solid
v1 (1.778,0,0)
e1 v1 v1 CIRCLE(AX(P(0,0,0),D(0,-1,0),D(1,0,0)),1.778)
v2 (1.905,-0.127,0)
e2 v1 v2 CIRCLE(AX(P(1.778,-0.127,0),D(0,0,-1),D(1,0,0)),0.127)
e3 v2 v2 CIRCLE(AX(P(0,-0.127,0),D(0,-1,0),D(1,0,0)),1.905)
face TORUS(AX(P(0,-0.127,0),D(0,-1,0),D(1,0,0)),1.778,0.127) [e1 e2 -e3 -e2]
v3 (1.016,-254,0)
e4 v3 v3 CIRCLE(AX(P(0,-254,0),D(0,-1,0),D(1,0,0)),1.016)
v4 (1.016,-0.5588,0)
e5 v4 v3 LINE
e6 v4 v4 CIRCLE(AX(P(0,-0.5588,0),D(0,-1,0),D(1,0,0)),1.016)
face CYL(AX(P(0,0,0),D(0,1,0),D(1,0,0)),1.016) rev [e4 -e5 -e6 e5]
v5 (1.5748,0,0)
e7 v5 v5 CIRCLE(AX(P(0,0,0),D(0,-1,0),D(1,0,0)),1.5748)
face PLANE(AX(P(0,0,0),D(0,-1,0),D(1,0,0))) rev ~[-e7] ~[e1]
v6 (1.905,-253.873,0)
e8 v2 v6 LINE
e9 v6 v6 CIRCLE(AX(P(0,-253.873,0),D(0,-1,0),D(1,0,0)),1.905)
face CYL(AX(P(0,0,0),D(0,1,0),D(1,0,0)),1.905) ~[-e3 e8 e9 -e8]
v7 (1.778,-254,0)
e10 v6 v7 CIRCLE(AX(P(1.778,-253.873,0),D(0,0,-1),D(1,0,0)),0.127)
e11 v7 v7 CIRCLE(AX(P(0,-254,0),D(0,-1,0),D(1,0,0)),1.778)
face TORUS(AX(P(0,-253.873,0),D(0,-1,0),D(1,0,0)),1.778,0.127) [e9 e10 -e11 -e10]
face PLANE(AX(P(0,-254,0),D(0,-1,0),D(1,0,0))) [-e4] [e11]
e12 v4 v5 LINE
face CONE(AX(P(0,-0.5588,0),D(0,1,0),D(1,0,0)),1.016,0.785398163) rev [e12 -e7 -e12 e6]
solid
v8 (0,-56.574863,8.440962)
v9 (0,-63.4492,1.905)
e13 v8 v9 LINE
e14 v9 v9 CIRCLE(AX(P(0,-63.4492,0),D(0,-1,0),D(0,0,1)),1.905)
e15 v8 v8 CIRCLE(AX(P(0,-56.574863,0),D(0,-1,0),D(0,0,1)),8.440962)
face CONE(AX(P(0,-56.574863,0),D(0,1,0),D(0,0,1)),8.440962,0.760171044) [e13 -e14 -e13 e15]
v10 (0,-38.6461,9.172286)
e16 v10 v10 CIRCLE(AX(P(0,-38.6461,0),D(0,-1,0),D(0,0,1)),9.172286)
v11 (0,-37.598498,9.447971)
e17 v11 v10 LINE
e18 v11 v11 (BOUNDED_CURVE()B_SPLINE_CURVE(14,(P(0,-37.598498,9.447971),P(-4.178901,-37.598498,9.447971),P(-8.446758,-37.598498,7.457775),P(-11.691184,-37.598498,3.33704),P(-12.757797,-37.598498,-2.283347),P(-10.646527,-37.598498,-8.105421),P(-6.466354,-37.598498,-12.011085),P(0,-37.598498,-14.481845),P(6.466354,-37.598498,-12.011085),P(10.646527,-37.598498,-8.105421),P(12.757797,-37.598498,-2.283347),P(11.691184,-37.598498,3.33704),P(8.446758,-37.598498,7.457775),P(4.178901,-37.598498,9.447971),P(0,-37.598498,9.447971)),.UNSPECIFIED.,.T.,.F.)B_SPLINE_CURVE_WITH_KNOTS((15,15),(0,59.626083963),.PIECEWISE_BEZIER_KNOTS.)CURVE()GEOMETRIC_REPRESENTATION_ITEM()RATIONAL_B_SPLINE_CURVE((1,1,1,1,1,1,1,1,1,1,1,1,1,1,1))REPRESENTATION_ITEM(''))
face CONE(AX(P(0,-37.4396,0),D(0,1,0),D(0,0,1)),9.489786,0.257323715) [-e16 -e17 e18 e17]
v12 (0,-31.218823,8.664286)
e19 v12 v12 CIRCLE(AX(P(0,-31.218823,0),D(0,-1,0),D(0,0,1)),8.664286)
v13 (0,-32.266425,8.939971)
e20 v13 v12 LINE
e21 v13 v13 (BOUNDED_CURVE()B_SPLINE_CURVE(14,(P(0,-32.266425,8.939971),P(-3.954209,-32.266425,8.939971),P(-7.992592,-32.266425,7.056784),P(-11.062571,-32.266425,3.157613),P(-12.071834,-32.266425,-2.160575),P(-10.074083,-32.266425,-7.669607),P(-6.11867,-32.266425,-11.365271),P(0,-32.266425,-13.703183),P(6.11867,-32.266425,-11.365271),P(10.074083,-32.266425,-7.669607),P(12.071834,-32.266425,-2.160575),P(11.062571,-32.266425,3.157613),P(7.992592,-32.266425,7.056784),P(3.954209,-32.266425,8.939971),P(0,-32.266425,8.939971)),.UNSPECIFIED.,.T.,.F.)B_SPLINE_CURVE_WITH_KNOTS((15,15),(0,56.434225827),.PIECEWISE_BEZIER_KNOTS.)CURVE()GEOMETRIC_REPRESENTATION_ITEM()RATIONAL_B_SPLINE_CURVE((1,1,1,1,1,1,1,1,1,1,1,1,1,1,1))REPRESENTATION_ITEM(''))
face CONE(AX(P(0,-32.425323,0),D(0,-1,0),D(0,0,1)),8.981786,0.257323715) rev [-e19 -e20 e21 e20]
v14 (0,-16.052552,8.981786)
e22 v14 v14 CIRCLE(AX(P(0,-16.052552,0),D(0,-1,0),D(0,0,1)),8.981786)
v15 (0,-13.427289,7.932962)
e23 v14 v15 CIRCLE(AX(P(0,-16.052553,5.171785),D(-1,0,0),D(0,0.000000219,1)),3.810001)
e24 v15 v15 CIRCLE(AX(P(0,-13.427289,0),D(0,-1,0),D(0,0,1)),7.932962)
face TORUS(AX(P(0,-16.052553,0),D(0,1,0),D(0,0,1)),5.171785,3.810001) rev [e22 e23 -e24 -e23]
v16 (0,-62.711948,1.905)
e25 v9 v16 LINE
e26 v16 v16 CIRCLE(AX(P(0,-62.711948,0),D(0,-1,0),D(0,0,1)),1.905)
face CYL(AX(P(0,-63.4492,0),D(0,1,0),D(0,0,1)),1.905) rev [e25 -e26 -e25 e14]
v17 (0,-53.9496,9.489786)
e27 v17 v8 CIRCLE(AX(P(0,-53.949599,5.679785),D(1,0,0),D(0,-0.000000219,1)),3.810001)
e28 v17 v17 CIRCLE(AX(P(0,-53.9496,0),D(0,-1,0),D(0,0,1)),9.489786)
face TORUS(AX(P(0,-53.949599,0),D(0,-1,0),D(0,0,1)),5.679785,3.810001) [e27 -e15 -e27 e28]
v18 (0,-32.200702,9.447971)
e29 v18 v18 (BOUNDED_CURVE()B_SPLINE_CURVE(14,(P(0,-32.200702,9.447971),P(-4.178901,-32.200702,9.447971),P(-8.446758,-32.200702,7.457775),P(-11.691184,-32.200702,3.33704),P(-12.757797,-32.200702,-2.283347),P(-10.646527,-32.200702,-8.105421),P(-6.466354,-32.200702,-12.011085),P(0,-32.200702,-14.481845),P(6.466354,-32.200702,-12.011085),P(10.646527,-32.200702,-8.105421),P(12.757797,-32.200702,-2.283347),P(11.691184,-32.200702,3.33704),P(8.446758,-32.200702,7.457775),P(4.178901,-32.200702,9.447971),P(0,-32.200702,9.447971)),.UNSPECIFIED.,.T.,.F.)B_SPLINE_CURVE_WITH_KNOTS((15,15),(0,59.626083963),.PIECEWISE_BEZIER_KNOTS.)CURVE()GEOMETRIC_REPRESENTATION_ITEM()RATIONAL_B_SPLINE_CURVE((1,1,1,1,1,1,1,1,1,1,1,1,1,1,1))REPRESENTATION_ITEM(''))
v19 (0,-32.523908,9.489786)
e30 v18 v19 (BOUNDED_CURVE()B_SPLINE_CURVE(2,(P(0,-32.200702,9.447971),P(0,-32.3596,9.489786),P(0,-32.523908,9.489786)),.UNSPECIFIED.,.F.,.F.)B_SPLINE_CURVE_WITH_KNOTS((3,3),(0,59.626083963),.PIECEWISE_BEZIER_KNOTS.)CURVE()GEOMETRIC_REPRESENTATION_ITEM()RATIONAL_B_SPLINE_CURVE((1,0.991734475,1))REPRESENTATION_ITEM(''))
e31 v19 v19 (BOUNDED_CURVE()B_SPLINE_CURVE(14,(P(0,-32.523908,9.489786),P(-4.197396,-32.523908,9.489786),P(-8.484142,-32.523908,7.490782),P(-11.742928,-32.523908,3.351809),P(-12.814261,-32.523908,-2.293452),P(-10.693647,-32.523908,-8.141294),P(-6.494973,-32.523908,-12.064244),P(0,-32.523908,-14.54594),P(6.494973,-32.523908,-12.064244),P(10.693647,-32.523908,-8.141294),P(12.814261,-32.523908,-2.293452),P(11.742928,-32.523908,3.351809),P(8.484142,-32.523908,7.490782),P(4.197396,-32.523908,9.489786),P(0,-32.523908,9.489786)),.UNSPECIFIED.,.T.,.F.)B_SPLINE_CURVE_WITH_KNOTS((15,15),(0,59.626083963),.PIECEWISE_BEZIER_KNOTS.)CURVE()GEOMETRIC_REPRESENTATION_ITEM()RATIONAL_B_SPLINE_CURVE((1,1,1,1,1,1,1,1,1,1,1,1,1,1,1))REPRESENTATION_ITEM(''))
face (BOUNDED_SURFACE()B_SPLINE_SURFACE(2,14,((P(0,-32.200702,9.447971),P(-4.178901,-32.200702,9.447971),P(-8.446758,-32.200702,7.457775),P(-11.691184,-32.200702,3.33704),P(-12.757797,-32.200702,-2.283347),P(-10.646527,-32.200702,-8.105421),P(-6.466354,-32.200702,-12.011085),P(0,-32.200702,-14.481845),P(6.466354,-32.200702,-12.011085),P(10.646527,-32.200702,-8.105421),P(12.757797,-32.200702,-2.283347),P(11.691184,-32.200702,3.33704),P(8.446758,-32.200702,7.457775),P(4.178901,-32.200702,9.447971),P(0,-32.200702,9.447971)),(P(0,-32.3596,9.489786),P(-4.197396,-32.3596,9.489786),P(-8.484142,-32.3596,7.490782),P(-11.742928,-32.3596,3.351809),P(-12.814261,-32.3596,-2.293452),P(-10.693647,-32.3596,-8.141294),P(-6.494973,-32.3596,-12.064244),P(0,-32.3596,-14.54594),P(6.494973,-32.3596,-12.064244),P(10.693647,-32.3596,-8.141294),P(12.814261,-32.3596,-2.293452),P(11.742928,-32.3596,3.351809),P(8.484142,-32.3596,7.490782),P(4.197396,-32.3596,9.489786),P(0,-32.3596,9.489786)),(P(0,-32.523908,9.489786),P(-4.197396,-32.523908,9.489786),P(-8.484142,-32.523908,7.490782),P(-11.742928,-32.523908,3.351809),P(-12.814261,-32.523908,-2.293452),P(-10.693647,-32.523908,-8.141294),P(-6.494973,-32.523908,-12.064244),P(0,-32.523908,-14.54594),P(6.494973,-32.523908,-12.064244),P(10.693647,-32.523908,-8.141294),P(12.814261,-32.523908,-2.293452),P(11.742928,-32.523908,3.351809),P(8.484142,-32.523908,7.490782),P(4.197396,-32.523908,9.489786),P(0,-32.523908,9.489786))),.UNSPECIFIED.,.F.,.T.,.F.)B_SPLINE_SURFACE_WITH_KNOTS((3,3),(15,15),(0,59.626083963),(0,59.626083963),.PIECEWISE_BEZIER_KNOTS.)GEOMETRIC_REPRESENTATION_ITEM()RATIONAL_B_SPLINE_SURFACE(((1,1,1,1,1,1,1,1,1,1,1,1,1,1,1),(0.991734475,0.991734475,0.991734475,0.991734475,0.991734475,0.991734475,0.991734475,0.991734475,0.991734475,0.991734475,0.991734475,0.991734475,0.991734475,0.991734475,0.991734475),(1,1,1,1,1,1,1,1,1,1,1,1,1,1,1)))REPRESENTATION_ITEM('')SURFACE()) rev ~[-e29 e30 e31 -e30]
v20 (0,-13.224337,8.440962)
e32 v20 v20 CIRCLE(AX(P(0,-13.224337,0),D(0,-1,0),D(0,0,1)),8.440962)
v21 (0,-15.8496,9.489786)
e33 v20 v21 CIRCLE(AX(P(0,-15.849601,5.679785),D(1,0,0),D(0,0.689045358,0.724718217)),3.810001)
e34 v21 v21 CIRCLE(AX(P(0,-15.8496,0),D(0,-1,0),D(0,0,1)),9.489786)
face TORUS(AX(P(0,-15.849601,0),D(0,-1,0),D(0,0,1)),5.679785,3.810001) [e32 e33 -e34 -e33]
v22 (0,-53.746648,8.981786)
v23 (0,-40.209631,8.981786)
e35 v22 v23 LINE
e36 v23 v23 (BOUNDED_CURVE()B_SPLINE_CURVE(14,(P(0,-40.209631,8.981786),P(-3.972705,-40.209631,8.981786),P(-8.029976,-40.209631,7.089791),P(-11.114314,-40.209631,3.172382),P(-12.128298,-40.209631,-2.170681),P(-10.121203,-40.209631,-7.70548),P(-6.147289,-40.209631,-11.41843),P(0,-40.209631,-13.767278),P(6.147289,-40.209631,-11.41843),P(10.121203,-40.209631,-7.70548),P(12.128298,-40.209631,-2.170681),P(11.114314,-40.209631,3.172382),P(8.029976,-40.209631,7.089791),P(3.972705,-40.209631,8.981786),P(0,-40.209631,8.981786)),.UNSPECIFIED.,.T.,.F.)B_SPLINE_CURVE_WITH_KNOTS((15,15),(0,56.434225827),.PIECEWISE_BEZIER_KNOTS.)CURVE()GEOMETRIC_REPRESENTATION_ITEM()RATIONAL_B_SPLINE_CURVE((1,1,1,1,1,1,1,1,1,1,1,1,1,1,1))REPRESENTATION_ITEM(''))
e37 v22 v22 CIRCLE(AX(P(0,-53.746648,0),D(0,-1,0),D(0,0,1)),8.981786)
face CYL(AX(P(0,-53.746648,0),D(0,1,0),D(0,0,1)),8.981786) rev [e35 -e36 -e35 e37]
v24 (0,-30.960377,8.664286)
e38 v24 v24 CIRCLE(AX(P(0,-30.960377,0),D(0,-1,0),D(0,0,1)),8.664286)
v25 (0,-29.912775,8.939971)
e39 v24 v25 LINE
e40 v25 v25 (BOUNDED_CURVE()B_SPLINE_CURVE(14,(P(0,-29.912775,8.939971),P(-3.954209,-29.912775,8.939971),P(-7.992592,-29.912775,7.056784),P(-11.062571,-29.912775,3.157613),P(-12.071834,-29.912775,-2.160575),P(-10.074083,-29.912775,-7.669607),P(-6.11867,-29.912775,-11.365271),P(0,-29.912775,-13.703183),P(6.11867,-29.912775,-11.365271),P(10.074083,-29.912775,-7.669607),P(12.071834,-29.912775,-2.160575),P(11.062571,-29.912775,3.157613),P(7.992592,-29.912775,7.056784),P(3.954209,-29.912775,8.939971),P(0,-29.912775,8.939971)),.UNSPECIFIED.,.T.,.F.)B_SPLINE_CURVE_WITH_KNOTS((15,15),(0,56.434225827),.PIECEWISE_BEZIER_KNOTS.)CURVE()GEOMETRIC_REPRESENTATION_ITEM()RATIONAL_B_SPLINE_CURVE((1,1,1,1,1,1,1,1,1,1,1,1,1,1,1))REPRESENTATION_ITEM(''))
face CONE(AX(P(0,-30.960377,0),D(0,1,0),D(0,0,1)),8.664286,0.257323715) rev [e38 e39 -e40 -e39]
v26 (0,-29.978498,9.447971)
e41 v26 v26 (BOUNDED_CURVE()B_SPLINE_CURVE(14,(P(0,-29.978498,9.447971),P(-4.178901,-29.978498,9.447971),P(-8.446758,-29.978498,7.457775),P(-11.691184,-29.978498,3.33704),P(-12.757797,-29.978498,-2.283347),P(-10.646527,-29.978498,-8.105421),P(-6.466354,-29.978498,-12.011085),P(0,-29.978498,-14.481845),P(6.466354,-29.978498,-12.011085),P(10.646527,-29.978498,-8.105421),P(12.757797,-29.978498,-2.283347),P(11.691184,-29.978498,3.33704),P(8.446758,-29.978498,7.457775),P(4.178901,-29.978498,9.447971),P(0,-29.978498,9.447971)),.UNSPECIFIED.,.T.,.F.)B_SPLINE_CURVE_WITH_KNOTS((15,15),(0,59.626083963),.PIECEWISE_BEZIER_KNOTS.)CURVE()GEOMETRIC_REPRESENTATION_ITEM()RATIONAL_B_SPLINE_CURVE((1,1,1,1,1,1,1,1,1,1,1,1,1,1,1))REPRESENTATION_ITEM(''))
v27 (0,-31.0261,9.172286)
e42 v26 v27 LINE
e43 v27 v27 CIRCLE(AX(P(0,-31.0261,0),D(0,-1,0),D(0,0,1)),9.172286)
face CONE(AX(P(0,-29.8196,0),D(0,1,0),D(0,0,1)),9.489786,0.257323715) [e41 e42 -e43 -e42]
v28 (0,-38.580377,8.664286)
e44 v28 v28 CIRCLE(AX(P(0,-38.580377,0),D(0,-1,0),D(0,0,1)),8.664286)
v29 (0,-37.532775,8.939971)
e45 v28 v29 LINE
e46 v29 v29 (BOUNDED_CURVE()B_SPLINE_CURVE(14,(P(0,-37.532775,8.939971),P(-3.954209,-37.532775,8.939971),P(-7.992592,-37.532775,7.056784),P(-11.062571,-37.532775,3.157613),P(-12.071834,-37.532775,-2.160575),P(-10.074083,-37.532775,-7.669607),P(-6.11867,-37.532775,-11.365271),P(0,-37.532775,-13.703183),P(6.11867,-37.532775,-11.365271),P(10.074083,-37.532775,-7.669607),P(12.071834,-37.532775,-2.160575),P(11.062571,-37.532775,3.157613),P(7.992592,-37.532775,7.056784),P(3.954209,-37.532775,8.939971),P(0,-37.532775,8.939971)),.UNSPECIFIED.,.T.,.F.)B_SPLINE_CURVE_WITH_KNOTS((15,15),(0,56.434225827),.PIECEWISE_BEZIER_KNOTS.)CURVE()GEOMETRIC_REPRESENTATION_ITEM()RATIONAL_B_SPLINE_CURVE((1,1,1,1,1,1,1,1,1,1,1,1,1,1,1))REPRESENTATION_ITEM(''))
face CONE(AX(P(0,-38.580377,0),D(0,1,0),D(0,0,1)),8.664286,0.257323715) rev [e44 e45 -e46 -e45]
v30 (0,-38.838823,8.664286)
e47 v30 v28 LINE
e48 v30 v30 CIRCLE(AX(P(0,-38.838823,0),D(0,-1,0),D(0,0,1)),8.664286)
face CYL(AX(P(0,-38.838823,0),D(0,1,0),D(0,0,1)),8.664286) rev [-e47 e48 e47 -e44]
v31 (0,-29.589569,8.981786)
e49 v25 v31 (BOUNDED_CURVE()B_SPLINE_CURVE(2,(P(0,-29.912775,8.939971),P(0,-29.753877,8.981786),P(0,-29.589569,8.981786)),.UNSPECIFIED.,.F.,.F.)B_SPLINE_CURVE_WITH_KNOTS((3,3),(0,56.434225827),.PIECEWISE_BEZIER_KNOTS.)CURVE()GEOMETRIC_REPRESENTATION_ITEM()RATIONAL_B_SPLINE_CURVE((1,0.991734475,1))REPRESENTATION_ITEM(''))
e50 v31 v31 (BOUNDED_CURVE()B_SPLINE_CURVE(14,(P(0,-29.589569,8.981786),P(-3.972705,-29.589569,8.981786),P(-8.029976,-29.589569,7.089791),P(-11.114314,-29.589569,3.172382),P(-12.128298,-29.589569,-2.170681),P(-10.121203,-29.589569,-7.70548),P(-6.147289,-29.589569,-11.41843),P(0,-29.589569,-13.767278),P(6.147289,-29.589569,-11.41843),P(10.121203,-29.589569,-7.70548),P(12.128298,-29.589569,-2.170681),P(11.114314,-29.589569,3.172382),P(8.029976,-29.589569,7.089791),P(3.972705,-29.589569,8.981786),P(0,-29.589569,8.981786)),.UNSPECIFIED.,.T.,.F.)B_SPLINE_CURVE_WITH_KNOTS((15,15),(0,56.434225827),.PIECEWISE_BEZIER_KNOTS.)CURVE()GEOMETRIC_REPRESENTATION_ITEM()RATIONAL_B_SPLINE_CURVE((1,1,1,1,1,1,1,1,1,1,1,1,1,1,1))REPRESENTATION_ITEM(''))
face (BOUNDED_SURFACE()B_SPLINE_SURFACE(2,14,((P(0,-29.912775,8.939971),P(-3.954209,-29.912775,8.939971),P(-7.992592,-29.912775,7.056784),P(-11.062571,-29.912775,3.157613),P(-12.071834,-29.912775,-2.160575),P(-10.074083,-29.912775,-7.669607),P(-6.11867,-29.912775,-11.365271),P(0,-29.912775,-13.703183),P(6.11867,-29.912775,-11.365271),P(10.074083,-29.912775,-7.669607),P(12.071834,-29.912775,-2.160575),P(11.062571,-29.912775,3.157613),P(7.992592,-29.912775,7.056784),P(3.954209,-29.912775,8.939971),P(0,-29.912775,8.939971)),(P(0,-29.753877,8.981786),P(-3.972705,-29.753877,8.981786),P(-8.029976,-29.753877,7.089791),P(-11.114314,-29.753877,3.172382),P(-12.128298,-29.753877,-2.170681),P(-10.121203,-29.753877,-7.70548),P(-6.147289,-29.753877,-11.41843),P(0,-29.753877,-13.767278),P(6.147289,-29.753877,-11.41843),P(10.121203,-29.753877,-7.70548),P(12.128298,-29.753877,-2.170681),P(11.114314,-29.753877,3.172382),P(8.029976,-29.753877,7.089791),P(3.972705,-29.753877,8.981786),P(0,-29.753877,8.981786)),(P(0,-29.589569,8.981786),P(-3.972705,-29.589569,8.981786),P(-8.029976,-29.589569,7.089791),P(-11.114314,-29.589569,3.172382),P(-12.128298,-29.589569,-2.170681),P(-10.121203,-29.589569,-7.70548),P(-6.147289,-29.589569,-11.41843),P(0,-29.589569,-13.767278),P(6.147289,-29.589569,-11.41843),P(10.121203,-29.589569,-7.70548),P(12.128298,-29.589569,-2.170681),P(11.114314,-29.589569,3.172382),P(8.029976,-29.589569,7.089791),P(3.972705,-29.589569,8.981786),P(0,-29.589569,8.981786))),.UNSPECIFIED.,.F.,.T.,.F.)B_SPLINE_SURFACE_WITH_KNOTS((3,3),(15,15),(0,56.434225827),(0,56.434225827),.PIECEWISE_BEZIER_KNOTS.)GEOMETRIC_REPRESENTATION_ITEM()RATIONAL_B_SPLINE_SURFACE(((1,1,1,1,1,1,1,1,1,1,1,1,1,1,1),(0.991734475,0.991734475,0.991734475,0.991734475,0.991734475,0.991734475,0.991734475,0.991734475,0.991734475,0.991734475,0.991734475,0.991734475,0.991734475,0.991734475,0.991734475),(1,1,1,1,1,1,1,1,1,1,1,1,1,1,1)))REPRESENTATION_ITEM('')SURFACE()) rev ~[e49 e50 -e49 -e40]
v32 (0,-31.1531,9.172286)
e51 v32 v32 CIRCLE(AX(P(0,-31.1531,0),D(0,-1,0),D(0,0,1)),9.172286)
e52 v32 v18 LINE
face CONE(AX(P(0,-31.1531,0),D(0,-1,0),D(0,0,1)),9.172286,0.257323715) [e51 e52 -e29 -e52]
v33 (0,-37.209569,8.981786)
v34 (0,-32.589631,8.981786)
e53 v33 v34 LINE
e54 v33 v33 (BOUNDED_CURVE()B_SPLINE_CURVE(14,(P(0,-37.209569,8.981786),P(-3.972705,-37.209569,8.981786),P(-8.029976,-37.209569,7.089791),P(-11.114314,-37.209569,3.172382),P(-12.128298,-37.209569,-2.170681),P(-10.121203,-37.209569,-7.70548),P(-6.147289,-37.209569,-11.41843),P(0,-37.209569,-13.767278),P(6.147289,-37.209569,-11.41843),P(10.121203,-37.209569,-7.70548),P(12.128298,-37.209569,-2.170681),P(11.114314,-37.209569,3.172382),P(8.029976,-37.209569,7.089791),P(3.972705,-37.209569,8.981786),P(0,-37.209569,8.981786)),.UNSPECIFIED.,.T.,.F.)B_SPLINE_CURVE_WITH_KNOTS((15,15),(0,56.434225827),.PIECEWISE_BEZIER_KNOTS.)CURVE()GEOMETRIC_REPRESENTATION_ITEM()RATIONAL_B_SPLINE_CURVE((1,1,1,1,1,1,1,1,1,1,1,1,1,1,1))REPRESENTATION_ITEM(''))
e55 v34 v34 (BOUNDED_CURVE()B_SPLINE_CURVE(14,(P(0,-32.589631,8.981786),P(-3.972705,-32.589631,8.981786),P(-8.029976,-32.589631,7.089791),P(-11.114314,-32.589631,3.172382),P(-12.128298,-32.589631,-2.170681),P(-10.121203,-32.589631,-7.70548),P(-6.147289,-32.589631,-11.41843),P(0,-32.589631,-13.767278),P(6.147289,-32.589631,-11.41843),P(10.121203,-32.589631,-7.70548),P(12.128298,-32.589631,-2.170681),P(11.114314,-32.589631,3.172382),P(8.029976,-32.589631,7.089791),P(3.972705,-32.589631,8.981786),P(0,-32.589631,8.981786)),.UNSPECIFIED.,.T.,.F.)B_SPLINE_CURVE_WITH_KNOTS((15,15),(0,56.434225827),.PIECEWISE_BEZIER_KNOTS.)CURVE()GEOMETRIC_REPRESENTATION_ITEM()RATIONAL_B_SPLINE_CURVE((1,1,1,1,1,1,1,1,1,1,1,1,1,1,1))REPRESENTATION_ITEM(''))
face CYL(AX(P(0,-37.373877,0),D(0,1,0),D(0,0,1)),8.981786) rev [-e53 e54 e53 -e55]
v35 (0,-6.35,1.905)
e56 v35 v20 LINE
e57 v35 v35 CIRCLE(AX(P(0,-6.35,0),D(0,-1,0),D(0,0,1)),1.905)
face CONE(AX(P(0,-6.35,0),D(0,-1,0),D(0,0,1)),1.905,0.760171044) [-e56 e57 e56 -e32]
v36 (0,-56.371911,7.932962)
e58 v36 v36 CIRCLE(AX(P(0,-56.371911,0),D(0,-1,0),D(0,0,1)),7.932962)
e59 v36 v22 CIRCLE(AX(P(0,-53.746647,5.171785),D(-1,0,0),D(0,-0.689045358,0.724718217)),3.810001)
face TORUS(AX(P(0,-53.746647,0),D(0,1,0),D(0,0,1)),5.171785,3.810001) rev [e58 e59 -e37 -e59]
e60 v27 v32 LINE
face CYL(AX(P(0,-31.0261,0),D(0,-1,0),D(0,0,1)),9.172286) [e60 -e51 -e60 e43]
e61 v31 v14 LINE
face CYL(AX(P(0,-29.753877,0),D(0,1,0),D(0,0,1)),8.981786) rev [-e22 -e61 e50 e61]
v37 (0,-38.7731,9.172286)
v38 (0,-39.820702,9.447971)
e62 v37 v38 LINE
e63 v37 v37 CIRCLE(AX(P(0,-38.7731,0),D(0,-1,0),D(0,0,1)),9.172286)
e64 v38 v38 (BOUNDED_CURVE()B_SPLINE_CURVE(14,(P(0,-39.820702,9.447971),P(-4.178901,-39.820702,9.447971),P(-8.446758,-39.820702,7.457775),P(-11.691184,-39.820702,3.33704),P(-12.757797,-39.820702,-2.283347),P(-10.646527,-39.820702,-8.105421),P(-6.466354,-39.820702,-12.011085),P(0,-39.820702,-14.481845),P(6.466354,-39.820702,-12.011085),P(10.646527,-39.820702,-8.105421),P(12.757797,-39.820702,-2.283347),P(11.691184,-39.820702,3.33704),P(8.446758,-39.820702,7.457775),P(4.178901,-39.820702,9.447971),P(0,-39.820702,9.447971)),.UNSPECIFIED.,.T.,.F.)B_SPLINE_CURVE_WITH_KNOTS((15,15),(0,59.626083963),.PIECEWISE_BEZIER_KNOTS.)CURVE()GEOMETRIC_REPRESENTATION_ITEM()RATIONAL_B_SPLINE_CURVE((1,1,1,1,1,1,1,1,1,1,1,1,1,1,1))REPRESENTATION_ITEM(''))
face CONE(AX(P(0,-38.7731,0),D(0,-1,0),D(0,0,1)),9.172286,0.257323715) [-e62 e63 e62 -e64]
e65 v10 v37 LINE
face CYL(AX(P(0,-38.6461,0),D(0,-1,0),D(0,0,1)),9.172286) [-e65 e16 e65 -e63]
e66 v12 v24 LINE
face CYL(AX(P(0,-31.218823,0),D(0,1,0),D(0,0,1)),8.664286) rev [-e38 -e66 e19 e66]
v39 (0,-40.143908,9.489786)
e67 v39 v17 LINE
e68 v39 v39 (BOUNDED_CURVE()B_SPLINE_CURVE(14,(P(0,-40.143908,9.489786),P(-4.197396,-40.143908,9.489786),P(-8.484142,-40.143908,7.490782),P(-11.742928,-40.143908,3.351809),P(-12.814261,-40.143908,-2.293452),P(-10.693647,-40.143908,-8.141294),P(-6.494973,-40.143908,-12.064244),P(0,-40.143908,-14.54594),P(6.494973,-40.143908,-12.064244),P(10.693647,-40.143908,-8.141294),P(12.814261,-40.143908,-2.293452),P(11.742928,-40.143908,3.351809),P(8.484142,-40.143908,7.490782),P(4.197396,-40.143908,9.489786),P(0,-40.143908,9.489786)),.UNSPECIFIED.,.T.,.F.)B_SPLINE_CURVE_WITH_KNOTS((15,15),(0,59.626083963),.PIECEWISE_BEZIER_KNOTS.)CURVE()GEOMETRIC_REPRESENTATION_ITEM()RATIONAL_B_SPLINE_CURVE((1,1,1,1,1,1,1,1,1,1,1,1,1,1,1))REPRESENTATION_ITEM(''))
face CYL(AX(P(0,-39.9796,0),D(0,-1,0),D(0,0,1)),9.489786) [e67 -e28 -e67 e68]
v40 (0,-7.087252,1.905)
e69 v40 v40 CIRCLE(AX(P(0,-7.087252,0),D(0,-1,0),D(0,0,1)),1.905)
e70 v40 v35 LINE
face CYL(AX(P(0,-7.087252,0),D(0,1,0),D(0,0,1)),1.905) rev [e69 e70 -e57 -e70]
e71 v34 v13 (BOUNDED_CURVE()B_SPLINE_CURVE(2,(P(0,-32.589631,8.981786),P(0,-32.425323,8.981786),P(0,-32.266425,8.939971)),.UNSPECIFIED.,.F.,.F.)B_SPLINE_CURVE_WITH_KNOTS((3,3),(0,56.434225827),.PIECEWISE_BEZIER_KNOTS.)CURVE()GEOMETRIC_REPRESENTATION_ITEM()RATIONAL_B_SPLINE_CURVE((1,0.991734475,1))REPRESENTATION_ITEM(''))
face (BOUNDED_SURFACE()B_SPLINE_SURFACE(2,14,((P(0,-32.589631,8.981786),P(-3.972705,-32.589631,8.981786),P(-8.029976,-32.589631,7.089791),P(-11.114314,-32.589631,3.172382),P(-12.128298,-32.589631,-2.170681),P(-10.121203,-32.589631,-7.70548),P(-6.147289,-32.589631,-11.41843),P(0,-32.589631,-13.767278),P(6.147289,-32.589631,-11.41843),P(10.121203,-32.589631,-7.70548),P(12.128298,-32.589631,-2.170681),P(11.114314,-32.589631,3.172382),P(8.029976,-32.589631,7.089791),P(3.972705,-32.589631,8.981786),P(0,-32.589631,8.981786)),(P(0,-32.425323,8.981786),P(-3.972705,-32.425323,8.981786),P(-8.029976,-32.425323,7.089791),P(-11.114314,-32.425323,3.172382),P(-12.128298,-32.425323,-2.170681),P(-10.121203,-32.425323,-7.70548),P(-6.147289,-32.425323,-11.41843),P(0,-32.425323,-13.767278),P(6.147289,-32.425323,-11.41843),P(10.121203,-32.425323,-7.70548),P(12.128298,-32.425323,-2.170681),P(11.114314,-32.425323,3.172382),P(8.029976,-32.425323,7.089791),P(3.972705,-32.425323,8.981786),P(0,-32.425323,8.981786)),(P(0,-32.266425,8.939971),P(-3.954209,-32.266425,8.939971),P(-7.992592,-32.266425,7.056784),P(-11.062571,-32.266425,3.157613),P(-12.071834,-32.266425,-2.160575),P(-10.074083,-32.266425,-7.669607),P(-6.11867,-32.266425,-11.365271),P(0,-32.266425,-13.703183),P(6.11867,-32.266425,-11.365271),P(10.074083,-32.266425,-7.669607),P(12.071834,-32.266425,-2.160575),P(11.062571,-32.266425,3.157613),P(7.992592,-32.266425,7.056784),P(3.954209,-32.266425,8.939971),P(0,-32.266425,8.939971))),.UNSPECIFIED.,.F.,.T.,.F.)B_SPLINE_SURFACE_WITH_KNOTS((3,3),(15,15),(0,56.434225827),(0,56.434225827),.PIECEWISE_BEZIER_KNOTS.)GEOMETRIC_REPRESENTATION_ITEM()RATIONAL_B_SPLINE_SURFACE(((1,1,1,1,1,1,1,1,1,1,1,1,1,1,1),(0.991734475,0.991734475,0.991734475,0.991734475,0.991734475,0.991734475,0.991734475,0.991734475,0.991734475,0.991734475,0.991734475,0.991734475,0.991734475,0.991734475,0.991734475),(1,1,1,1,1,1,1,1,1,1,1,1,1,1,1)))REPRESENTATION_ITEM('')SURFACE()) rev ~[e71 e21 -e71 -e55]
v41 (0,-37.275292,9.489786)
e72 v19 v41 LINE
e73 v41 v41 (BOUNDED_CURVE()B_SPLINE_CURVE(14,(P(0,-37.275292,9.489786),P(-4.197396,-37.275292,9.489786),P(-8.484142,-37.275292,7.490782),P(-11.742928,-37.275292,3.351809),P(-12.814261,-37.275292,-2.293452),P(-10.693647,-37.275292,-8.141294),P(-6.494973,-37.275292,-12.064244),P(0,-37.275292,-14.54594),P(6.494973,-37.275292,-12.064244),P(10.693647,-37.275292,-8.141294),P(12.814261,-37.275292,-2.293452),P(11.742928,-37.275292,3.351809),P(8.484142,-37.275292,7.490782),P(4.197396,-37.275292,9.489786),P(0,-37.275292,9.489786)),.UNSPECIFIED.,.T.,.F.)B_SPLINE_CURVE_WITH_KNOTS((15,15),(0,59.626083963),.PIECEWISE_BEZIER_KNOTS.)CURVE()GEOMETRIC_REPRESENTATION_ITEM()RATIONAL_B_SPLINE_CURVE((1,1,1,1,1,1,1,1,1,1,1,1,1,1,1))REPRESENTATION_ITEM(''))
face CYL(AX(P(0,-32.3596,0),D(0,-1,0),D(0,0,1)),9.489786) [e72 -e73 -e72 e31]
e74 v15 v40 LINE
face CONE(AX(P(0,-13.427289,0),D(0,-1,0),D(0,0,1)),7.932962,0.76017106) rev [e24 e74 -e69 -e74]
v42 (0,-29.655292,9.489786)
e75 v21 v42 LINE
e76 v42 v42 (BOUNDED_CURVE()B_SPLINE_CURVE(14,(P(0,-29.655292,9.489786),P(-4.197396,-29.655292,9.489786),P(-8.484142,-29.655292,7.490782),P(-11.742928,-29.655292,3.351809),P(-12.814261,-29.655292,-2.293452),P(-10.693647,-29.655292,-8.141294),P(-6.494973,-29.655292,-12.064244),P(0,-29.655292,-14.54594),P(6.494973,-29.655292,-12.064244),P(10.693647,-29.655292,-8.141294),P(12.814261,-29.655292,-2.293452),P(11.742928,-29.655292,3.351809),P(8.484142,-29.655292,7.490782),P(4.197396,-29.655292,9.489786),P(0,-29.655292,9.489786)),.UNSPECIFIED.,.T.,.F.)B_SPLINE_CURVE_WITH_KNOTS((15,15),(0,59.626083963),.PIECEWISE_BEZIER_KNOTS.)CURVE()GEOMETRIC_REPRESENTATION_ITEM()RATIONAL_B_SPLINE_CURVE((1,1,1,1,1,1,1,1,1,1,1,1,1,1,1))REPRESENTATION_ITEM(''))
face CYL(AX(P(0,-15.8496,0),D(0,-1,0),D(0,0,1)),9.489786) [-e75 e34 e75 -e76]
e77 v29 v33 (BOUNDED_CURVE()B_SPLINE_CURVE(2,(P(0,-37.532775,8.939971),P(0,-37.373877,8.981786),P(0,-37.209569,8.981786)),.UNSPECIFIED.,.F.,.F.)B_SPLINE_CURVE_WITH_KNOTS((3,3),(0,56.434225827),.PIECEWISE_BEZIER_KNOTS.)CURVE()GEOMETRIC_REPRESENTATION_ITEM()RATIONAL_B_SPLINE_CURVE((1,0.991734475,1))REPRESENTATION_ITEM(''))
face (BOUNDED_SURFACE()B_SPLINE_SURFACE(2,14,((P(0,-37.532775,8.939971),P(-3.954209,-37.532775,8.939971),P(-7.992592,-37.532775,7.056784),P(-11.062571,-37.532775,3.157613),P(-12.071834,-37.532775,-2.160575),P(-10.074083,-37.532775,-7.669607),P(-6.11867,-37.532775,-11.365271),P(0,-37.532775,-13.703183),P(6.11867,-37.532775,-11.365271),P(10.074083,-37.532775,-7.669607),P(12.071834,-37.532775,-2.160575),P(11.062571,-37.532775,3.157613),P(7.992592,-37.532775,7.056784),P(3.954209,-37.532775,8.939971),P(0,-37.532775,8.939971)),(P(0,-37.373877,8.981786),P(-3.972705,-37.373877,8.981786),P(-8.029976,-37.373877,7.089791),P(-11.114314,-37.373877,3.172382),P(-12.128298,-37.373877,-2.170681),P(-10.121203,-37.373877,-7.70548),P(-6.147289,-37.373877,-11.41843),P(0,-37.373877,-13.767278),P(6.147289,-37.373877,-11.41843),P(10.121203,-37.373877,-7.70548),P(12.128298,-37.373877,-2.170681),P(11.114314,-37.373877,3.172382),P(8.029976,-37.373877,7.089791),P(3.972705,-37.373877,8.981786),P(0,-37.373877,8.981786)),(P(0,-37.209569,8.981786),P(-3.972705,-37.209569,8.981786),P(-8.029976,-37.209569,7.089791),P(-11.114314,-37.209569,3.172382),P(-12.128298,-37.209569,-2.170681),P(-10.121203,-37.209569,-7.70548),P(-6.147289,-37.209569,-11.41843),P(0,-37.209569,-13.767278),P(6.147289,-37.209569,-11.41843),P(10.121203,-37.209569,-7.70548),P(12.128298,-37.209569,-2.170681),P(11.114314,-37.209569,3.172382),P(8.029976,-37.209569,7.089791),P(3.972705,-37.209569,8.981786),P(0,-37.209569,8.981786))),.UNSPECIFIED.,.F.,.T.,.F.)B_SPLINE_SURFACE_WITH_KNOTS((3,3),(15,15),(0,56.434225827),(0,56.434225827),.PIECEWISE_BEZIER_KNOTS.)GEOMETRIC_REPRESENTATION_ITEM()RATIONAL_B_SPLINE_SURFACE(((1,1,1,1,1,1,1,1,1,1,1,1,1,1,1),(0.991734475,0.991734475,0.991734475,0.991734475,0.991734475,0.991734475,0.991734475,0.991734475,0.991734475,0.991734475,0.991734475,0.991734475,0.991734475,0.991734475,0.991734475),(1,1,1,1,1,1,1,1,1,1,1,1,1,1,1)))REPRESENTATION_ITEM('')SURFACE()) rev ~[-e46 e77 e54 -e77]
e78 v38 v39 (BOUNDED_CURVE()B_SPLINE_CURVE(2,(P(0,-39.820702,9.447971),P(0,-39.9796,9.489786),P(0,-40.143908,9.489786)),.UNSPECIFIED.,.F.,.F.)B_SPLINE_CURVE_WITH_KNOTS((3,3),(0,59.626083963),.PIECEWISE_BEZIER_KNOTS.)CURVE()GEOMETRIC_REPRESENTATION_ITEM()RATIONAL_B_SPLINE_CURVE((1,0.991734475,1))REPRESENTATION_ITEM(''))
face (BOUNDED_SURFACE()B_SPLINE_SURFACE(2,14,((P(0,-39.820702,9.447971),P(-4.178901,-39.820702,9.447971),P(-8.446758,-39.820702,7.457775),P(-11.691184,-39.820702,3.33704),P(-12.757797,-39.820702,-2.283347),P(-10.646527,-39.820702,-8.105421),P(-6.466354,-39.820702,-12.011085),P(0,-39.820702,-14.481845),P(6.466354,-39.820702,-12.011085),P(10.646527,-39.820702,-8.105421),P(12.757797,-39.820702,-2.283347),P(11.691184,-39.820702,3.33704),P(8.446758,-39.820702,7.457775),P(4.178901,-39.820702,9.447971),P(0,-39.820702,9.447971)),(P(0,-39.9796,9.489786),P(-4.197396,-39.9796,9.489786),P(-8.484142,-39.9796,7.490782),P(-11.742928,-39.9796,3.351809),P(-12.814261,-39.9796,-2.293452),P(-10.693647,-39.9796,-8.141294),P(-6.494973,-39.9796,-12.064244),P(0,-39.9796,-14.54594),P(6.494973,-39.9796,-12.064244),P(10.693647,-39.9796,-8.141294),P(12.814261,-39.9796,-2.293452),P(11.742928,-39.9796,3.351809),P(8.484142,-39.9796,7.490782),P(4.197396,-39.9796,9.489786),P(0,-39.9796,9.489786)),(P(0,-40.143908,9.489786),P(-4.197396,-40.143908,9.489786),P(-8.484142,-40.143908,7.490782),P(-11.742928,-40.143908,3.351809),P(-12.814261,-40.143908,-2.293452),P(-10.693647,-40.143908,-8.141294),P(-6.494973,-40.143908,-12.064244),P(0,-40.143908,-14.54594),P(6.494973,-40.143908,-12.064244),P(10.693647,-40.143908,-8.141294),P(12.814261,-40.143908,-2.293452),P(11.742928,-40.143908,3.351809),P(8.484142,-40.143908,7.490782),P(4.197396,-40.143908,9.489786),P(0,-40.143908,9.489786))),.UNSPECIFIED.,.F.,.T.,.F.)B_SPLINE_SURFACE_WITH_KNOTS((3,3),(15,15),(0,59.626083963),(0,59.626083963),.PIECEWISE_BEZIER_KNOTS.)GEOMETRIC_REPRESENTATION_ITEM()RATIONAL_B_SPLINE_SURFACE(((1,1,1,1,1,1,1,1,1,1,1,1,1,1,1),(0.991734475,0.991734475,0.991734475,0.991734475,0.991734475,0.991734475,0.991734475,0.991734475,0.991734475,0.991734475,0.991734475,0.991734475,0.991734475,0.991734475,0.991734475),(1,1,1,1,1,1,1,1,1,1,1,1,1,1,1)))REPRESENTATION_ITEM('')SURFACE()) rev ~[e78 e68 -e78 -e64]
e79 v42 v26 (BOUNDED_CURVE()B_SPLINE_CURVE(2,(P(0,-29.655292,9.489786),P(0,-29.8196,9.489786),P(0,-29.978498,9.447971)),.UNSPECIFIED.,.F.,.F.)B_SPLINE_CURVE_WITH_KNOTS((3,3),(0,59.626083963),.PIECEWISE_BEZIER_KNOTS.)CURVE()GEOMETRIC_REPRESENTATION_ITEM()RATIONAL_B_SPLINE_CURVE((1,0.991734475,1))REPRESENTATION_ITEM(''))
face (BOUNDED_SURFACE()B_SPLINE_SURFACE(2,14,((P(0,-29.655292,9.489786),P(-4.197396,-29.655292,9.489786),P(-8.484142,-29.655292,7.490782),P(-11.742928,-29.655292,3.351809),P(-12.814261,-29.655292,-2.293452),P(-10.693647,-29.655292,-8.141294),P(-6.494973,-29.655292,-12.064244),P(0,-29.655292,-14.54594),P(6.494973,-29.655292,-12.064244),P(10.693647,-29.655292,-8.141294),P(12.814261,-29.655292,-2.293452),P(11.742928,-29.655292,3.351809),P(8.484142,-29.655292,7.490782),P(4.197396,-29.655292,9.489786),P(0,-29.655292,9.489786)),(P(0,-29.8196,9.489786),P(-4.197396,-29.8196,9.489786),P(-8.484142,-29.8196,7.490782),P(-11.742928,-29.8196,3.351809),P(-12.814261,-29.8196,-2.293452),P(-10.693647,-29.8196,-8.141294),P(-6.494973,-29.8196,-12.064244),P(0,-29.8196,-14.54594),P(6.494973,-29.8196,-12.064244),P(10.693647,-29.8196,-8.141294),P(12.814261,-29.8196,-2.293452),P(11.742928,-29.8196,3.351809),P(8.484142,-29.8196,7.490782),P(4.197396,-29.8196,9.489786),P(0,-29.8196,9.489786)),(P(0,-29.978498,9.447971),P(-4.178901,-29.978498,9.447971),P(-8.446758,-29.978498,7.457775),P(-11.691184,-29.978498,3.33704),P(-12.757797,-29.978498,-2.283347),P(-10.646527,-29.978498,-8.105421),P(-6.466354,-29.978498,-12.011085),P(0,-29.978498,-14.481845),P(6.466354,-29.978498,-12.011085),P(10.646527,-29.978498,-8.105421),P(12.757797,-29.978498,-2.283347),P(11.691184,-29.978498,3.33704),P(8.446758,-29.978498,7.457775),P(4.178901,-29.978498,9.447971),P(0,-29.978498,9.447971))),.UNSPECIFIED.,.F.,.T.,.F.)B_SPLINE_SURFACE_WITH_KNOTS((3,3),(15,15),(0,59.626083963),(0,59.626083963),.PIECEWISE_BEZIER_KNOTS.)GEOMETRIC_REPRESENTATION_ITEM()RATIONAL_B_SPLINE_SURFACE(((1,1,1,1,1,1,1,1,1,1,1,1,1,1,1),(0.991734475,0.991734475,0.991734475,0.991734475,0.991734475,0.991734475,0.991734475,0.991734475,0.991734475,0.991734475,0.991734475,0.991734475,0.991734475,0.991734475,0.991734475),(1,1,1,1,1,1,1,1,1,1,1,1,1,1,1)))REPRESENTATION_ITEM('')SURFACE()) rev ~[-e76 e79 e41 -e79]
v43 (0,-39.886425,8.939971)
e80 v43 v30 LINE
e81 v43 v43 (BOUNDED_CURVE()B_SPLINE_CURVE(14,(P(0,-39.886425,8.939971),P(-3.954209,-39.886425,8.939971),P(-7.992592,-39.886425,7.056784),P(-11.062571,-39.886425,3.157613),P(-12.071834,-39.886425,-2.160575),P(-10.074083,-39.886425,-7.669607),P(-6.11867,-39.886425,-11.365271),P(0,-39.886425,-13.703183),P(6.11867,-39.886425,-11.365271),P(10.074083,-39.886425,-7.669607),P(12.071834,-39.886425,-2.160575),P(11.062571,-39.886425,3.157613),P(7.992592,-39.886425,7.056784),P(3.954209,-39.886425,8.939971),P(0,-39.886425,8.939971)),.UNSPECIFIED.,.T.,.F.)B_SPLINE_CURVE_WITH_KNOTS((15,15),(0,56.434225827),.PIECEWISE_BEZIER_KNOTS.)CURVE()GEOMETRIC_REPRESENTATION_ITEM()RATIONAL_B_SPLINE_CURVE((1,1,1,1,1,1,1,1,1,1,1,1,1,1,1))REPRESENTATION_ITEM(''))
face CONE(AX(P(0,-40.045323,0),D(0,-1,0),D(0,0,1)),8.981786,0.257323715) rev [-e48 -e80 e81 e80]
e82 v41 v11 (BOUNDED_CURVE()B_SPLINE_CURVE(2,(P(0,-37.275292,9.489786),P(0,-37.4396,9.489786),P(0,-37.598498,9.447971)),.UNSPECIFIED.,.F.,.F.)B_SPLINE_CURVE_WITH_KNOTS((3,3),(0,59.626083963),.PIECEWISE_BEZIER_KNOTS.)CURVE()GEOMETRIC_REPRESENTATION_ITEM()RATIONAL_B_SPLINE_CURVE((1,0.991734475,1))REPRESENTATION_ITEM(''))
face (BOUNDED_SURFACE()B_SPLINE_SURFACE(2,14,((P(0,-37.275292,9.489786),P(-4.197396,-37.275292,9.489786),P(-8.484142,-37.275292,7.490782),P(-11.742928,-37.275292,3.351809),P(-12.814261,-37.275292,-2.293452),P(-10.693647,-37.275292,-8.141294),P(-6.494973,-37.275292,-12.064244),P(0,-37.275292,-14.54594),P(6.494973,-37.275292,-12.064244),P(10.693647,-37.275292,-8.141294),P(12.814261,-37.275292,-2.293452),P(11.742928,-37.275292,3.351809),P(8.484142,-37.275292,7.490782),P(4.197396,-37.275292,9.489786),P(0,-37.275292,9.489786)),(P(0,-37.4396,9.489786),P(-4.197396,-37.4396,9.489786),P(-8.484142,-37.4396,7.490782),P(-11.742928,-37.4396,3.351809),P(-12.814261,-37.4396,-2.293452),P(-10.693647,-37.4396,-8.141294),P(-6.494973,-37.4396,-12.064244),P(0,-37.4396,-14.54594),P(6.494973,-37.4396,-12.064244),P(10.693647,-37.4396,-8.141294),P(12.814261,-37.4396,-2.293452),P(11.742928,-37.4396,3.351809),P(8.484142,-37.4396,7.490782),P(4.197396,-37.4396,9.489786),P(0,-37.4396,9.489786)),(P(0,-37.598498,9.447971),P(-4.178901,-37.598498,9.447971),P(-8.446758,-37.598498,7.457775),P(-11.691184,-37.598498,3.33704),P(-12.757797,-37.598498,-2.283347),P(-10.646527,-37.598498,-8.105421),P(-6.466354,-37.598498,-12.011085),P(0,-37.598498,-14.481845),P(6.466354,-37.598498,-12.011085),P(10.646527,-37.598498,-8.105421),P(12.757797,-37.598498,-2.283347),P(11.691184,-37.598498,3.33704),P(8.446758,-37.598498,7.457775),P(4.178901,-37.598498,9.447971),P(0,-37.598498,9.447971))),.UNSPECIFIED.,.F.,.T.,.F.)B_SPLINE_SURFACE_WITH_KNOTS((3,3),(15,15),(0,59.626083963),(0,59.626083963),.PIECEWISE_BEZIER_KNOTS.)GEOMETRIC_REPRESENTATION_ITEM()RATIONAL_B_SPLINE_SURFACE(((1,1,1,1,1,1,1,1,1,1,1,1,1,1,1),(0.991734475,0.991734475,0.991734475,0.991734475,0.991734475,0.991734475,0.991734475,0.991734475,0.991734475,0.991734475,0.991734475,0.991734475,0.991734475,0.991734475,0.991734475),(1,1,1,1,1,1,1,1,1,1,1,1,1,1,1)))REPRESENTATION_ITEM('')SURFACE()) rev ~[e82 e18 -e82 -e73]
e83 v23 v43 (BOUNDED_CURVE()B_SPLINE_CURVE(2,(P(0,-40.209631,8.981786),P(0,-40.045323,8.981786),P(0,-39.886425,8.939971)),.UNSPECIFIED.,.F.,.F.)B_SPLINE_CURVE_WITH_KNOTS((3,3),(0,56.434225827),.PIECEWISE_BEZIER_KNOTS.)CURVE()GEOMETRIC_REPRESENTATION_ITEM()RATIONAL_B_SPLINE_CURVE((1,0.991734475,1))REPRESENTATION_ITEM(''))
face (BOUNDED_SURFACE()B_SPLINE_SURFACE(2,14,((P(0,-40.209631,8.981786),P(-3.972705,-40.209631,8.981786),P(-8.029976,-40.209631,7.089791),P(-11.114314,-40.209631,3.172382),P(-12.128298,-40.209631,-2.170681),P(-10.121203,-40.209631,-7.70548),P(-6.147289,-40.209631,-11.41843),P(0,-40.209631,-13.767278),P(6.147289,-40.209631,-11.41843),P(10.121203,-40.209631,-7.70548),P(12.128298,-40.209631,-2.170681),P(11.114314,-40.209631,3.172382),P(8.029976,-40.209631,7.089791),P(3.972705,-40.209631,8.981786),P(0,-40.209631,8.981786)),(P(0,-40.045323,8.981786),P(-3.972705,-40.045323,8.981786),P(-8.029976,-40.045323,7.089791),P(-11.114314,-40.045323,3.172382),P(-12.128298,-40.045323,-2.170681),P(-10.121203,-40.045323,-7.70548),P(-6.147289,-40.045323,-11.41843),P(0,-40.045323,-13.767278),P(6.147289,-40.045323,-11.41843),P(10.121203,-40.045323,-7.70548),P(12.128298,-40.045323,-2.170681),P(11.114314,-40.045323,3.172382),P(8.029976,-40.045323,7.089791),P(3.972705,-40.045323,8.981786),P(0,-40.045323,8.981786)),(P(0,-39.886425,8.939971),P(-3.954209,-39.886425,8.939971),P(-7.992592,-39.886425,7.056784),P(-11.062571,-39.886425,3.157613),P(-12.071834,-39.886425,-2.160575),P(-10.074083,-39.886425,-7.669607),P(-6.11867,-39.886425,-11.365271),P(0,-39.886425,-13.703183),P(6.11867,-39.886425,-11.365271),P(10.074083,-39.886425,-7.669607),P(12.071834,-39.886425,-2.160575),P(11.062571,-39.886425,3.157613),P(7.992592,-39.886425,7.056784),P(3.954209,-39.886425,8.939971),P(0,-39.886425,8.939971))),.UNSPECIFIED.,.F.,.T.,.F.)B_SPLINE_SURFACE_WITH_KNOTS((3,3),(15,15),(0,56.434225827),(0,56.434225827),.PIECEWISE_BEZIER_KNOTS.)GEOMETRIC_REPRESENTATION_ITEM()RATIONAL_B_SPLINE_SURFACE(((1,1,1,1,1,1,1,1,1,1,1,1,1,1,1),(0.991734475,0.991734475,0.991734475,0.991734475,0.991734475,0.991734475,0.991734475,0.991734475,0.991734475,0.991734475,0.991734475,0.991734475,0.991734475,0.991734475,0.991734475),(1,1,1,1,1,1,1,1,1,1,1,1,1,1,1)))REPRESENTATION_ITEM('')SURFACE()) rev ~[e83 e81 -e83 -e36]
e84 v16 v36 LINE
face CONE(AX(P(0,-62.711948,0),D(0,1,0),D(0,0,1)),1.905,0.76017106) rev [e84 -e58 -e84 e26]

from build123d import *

# Parameters (mm, degrees)
F0_R     = 1.905
F0_R_2   = 1.016
F1_DEPTH = 254
F2_SIZE  = 0.5588
F3_R     = 0.127
F4_R     = 0.127
F8_R     = 1.27


with BuildPart() as f1:
    # F0 (on Front) → F1 (new body)
    with BuildSketch(Plane.XZ):
        Circle(F0_R)
        Circle(F0_R_2, mode=Mode.SUBTRACT)
    extrude(amount=F1_DEPTH)

    # F2
    f2_edges = [f1.edges().sort_by_distance(p)[0] for p in [
        (-1.016, 0, 0),
    ]]
    chamfer(f2_edges, length=F2_SIZE)

    # F3
    f3_edges = [f1.edges().sort_by_distance(p)[0] for p in [
        (-1.905, 0, 0),
    ]]
    fillet(f3_edges, radius=F3_R)

    # F4
    f4_edges = [f1.edges().sort_by_distance(p)[0] for p in [
        (-1.905, -254, 0),
    ]]
    fillet(f4_edges, radius=F4_R)


with BuildPart() as f7:
    # F6 (on Right) → F7 (revolve)
    with BuildSketch(Plane.YZ):
        with BuildLine():
            Line((-56.574863, 8.440962), (-63.4492, 1.905))
            Line((-63.4492, 1.905), (-62.711948, 1.905))
            Line((-62.711948, 1.905), (-56.371911, 7.932962))
            ThreePointArc((-56.371911, 7.932962), (-55.160158, 8.709877), (-53.746648, 8.981786))
            Line((-53.746648, 8.981786), (-40.045323, 8.981786))
            Line((-40.045323, 8.981786), (-38.838823, 8.664286))
            Line((-38.838823, 8.664286), (-38.580377, 8.664286))
            Line((-38.580377, 8.664286), (-37.373877, 8.981786))
            Line((-37.373877, 8.981786), (-34.8996, 8.981786))
            Line((-34.8996, 8.981786), (-32.425323, 8.981786))
            Line((-32.425323, 8.981786), (-31.218823, 8.664286))
            Line((-31.218823, 8.664286), (-30.960377, 8.664286))
            Line((-30.960377, 8.664286), (-29.753877, 8.981786))
            Line((-29.753877, 8.981786), (-16.052552, 8.981786))
            ThreePointArc((-16.052552, 8.981786), (-14.639042, 8.709877), (-13.427289, 7.932962))
            Line((-13.427289, 7.932962), (-7.087252, 1.905))
            Line((-7.087252, 1.905), (-6.35, 1.905))
            Line((-6.35, 1.905), (-13.224337, 8.440962))
            ThreePointArc((-13.224337, 8.440962), (-14.43609, 9.217877), (-15.8496, 9.489786))
            Line((-15.8496, 9.489786), (-29.8196, 9.489786))
            Line((-29.8196, 9.489786), (-31.0261, 9.172286))
            Line((-31.0261, 9.172286), (-31.1531, 9.172286))
            Line((-31.1531, 9.172286), (-32.3596, 9.489786))
            Line((-32.3596, 9.489786), (-34.8996, 9.489786))
            Line((-34.8996, 9.489786), (-37.4396, 9.489786))
            Line((-37.4396, 9.489786), (-38.6461, 9.172286))
            Line((-38.6461, 9.172286), (-38.7731, 9.172286))
            Line((-38.7731, 9.172286), (-39.9796, 9.489786))
            Line((-39.9796, 9.489786), (-53.9496, 9.489786))
            ThreePointArc((-53.9496, 9.489786), (-55.36311, 9.217877), (-56.574863, 8.440962))
        make_face()
    revolve(axis=Axis((0, -159.145489, 0), (0, -1, 0)))

    # F8
    f8_edges = [f7.edges().sort_by_distance(p)[0] for p in [
        (0, -39.9796, -9.489786),
        (0, -37.4396, -9.489786),
        (0, -32.3596, -9.489786),
        (0, -29.8196, -9.489786),
        (0, -29.753877, -8.981786),
        (0, -32.425323, -8.981786),
        (0, -37.373877, -8.981786),
        (0, -40.045323, -8.981786),
    ]]
    fillet(f8_edges, radius=F8_R)


solid = Compound([f1.part, f7.part])
